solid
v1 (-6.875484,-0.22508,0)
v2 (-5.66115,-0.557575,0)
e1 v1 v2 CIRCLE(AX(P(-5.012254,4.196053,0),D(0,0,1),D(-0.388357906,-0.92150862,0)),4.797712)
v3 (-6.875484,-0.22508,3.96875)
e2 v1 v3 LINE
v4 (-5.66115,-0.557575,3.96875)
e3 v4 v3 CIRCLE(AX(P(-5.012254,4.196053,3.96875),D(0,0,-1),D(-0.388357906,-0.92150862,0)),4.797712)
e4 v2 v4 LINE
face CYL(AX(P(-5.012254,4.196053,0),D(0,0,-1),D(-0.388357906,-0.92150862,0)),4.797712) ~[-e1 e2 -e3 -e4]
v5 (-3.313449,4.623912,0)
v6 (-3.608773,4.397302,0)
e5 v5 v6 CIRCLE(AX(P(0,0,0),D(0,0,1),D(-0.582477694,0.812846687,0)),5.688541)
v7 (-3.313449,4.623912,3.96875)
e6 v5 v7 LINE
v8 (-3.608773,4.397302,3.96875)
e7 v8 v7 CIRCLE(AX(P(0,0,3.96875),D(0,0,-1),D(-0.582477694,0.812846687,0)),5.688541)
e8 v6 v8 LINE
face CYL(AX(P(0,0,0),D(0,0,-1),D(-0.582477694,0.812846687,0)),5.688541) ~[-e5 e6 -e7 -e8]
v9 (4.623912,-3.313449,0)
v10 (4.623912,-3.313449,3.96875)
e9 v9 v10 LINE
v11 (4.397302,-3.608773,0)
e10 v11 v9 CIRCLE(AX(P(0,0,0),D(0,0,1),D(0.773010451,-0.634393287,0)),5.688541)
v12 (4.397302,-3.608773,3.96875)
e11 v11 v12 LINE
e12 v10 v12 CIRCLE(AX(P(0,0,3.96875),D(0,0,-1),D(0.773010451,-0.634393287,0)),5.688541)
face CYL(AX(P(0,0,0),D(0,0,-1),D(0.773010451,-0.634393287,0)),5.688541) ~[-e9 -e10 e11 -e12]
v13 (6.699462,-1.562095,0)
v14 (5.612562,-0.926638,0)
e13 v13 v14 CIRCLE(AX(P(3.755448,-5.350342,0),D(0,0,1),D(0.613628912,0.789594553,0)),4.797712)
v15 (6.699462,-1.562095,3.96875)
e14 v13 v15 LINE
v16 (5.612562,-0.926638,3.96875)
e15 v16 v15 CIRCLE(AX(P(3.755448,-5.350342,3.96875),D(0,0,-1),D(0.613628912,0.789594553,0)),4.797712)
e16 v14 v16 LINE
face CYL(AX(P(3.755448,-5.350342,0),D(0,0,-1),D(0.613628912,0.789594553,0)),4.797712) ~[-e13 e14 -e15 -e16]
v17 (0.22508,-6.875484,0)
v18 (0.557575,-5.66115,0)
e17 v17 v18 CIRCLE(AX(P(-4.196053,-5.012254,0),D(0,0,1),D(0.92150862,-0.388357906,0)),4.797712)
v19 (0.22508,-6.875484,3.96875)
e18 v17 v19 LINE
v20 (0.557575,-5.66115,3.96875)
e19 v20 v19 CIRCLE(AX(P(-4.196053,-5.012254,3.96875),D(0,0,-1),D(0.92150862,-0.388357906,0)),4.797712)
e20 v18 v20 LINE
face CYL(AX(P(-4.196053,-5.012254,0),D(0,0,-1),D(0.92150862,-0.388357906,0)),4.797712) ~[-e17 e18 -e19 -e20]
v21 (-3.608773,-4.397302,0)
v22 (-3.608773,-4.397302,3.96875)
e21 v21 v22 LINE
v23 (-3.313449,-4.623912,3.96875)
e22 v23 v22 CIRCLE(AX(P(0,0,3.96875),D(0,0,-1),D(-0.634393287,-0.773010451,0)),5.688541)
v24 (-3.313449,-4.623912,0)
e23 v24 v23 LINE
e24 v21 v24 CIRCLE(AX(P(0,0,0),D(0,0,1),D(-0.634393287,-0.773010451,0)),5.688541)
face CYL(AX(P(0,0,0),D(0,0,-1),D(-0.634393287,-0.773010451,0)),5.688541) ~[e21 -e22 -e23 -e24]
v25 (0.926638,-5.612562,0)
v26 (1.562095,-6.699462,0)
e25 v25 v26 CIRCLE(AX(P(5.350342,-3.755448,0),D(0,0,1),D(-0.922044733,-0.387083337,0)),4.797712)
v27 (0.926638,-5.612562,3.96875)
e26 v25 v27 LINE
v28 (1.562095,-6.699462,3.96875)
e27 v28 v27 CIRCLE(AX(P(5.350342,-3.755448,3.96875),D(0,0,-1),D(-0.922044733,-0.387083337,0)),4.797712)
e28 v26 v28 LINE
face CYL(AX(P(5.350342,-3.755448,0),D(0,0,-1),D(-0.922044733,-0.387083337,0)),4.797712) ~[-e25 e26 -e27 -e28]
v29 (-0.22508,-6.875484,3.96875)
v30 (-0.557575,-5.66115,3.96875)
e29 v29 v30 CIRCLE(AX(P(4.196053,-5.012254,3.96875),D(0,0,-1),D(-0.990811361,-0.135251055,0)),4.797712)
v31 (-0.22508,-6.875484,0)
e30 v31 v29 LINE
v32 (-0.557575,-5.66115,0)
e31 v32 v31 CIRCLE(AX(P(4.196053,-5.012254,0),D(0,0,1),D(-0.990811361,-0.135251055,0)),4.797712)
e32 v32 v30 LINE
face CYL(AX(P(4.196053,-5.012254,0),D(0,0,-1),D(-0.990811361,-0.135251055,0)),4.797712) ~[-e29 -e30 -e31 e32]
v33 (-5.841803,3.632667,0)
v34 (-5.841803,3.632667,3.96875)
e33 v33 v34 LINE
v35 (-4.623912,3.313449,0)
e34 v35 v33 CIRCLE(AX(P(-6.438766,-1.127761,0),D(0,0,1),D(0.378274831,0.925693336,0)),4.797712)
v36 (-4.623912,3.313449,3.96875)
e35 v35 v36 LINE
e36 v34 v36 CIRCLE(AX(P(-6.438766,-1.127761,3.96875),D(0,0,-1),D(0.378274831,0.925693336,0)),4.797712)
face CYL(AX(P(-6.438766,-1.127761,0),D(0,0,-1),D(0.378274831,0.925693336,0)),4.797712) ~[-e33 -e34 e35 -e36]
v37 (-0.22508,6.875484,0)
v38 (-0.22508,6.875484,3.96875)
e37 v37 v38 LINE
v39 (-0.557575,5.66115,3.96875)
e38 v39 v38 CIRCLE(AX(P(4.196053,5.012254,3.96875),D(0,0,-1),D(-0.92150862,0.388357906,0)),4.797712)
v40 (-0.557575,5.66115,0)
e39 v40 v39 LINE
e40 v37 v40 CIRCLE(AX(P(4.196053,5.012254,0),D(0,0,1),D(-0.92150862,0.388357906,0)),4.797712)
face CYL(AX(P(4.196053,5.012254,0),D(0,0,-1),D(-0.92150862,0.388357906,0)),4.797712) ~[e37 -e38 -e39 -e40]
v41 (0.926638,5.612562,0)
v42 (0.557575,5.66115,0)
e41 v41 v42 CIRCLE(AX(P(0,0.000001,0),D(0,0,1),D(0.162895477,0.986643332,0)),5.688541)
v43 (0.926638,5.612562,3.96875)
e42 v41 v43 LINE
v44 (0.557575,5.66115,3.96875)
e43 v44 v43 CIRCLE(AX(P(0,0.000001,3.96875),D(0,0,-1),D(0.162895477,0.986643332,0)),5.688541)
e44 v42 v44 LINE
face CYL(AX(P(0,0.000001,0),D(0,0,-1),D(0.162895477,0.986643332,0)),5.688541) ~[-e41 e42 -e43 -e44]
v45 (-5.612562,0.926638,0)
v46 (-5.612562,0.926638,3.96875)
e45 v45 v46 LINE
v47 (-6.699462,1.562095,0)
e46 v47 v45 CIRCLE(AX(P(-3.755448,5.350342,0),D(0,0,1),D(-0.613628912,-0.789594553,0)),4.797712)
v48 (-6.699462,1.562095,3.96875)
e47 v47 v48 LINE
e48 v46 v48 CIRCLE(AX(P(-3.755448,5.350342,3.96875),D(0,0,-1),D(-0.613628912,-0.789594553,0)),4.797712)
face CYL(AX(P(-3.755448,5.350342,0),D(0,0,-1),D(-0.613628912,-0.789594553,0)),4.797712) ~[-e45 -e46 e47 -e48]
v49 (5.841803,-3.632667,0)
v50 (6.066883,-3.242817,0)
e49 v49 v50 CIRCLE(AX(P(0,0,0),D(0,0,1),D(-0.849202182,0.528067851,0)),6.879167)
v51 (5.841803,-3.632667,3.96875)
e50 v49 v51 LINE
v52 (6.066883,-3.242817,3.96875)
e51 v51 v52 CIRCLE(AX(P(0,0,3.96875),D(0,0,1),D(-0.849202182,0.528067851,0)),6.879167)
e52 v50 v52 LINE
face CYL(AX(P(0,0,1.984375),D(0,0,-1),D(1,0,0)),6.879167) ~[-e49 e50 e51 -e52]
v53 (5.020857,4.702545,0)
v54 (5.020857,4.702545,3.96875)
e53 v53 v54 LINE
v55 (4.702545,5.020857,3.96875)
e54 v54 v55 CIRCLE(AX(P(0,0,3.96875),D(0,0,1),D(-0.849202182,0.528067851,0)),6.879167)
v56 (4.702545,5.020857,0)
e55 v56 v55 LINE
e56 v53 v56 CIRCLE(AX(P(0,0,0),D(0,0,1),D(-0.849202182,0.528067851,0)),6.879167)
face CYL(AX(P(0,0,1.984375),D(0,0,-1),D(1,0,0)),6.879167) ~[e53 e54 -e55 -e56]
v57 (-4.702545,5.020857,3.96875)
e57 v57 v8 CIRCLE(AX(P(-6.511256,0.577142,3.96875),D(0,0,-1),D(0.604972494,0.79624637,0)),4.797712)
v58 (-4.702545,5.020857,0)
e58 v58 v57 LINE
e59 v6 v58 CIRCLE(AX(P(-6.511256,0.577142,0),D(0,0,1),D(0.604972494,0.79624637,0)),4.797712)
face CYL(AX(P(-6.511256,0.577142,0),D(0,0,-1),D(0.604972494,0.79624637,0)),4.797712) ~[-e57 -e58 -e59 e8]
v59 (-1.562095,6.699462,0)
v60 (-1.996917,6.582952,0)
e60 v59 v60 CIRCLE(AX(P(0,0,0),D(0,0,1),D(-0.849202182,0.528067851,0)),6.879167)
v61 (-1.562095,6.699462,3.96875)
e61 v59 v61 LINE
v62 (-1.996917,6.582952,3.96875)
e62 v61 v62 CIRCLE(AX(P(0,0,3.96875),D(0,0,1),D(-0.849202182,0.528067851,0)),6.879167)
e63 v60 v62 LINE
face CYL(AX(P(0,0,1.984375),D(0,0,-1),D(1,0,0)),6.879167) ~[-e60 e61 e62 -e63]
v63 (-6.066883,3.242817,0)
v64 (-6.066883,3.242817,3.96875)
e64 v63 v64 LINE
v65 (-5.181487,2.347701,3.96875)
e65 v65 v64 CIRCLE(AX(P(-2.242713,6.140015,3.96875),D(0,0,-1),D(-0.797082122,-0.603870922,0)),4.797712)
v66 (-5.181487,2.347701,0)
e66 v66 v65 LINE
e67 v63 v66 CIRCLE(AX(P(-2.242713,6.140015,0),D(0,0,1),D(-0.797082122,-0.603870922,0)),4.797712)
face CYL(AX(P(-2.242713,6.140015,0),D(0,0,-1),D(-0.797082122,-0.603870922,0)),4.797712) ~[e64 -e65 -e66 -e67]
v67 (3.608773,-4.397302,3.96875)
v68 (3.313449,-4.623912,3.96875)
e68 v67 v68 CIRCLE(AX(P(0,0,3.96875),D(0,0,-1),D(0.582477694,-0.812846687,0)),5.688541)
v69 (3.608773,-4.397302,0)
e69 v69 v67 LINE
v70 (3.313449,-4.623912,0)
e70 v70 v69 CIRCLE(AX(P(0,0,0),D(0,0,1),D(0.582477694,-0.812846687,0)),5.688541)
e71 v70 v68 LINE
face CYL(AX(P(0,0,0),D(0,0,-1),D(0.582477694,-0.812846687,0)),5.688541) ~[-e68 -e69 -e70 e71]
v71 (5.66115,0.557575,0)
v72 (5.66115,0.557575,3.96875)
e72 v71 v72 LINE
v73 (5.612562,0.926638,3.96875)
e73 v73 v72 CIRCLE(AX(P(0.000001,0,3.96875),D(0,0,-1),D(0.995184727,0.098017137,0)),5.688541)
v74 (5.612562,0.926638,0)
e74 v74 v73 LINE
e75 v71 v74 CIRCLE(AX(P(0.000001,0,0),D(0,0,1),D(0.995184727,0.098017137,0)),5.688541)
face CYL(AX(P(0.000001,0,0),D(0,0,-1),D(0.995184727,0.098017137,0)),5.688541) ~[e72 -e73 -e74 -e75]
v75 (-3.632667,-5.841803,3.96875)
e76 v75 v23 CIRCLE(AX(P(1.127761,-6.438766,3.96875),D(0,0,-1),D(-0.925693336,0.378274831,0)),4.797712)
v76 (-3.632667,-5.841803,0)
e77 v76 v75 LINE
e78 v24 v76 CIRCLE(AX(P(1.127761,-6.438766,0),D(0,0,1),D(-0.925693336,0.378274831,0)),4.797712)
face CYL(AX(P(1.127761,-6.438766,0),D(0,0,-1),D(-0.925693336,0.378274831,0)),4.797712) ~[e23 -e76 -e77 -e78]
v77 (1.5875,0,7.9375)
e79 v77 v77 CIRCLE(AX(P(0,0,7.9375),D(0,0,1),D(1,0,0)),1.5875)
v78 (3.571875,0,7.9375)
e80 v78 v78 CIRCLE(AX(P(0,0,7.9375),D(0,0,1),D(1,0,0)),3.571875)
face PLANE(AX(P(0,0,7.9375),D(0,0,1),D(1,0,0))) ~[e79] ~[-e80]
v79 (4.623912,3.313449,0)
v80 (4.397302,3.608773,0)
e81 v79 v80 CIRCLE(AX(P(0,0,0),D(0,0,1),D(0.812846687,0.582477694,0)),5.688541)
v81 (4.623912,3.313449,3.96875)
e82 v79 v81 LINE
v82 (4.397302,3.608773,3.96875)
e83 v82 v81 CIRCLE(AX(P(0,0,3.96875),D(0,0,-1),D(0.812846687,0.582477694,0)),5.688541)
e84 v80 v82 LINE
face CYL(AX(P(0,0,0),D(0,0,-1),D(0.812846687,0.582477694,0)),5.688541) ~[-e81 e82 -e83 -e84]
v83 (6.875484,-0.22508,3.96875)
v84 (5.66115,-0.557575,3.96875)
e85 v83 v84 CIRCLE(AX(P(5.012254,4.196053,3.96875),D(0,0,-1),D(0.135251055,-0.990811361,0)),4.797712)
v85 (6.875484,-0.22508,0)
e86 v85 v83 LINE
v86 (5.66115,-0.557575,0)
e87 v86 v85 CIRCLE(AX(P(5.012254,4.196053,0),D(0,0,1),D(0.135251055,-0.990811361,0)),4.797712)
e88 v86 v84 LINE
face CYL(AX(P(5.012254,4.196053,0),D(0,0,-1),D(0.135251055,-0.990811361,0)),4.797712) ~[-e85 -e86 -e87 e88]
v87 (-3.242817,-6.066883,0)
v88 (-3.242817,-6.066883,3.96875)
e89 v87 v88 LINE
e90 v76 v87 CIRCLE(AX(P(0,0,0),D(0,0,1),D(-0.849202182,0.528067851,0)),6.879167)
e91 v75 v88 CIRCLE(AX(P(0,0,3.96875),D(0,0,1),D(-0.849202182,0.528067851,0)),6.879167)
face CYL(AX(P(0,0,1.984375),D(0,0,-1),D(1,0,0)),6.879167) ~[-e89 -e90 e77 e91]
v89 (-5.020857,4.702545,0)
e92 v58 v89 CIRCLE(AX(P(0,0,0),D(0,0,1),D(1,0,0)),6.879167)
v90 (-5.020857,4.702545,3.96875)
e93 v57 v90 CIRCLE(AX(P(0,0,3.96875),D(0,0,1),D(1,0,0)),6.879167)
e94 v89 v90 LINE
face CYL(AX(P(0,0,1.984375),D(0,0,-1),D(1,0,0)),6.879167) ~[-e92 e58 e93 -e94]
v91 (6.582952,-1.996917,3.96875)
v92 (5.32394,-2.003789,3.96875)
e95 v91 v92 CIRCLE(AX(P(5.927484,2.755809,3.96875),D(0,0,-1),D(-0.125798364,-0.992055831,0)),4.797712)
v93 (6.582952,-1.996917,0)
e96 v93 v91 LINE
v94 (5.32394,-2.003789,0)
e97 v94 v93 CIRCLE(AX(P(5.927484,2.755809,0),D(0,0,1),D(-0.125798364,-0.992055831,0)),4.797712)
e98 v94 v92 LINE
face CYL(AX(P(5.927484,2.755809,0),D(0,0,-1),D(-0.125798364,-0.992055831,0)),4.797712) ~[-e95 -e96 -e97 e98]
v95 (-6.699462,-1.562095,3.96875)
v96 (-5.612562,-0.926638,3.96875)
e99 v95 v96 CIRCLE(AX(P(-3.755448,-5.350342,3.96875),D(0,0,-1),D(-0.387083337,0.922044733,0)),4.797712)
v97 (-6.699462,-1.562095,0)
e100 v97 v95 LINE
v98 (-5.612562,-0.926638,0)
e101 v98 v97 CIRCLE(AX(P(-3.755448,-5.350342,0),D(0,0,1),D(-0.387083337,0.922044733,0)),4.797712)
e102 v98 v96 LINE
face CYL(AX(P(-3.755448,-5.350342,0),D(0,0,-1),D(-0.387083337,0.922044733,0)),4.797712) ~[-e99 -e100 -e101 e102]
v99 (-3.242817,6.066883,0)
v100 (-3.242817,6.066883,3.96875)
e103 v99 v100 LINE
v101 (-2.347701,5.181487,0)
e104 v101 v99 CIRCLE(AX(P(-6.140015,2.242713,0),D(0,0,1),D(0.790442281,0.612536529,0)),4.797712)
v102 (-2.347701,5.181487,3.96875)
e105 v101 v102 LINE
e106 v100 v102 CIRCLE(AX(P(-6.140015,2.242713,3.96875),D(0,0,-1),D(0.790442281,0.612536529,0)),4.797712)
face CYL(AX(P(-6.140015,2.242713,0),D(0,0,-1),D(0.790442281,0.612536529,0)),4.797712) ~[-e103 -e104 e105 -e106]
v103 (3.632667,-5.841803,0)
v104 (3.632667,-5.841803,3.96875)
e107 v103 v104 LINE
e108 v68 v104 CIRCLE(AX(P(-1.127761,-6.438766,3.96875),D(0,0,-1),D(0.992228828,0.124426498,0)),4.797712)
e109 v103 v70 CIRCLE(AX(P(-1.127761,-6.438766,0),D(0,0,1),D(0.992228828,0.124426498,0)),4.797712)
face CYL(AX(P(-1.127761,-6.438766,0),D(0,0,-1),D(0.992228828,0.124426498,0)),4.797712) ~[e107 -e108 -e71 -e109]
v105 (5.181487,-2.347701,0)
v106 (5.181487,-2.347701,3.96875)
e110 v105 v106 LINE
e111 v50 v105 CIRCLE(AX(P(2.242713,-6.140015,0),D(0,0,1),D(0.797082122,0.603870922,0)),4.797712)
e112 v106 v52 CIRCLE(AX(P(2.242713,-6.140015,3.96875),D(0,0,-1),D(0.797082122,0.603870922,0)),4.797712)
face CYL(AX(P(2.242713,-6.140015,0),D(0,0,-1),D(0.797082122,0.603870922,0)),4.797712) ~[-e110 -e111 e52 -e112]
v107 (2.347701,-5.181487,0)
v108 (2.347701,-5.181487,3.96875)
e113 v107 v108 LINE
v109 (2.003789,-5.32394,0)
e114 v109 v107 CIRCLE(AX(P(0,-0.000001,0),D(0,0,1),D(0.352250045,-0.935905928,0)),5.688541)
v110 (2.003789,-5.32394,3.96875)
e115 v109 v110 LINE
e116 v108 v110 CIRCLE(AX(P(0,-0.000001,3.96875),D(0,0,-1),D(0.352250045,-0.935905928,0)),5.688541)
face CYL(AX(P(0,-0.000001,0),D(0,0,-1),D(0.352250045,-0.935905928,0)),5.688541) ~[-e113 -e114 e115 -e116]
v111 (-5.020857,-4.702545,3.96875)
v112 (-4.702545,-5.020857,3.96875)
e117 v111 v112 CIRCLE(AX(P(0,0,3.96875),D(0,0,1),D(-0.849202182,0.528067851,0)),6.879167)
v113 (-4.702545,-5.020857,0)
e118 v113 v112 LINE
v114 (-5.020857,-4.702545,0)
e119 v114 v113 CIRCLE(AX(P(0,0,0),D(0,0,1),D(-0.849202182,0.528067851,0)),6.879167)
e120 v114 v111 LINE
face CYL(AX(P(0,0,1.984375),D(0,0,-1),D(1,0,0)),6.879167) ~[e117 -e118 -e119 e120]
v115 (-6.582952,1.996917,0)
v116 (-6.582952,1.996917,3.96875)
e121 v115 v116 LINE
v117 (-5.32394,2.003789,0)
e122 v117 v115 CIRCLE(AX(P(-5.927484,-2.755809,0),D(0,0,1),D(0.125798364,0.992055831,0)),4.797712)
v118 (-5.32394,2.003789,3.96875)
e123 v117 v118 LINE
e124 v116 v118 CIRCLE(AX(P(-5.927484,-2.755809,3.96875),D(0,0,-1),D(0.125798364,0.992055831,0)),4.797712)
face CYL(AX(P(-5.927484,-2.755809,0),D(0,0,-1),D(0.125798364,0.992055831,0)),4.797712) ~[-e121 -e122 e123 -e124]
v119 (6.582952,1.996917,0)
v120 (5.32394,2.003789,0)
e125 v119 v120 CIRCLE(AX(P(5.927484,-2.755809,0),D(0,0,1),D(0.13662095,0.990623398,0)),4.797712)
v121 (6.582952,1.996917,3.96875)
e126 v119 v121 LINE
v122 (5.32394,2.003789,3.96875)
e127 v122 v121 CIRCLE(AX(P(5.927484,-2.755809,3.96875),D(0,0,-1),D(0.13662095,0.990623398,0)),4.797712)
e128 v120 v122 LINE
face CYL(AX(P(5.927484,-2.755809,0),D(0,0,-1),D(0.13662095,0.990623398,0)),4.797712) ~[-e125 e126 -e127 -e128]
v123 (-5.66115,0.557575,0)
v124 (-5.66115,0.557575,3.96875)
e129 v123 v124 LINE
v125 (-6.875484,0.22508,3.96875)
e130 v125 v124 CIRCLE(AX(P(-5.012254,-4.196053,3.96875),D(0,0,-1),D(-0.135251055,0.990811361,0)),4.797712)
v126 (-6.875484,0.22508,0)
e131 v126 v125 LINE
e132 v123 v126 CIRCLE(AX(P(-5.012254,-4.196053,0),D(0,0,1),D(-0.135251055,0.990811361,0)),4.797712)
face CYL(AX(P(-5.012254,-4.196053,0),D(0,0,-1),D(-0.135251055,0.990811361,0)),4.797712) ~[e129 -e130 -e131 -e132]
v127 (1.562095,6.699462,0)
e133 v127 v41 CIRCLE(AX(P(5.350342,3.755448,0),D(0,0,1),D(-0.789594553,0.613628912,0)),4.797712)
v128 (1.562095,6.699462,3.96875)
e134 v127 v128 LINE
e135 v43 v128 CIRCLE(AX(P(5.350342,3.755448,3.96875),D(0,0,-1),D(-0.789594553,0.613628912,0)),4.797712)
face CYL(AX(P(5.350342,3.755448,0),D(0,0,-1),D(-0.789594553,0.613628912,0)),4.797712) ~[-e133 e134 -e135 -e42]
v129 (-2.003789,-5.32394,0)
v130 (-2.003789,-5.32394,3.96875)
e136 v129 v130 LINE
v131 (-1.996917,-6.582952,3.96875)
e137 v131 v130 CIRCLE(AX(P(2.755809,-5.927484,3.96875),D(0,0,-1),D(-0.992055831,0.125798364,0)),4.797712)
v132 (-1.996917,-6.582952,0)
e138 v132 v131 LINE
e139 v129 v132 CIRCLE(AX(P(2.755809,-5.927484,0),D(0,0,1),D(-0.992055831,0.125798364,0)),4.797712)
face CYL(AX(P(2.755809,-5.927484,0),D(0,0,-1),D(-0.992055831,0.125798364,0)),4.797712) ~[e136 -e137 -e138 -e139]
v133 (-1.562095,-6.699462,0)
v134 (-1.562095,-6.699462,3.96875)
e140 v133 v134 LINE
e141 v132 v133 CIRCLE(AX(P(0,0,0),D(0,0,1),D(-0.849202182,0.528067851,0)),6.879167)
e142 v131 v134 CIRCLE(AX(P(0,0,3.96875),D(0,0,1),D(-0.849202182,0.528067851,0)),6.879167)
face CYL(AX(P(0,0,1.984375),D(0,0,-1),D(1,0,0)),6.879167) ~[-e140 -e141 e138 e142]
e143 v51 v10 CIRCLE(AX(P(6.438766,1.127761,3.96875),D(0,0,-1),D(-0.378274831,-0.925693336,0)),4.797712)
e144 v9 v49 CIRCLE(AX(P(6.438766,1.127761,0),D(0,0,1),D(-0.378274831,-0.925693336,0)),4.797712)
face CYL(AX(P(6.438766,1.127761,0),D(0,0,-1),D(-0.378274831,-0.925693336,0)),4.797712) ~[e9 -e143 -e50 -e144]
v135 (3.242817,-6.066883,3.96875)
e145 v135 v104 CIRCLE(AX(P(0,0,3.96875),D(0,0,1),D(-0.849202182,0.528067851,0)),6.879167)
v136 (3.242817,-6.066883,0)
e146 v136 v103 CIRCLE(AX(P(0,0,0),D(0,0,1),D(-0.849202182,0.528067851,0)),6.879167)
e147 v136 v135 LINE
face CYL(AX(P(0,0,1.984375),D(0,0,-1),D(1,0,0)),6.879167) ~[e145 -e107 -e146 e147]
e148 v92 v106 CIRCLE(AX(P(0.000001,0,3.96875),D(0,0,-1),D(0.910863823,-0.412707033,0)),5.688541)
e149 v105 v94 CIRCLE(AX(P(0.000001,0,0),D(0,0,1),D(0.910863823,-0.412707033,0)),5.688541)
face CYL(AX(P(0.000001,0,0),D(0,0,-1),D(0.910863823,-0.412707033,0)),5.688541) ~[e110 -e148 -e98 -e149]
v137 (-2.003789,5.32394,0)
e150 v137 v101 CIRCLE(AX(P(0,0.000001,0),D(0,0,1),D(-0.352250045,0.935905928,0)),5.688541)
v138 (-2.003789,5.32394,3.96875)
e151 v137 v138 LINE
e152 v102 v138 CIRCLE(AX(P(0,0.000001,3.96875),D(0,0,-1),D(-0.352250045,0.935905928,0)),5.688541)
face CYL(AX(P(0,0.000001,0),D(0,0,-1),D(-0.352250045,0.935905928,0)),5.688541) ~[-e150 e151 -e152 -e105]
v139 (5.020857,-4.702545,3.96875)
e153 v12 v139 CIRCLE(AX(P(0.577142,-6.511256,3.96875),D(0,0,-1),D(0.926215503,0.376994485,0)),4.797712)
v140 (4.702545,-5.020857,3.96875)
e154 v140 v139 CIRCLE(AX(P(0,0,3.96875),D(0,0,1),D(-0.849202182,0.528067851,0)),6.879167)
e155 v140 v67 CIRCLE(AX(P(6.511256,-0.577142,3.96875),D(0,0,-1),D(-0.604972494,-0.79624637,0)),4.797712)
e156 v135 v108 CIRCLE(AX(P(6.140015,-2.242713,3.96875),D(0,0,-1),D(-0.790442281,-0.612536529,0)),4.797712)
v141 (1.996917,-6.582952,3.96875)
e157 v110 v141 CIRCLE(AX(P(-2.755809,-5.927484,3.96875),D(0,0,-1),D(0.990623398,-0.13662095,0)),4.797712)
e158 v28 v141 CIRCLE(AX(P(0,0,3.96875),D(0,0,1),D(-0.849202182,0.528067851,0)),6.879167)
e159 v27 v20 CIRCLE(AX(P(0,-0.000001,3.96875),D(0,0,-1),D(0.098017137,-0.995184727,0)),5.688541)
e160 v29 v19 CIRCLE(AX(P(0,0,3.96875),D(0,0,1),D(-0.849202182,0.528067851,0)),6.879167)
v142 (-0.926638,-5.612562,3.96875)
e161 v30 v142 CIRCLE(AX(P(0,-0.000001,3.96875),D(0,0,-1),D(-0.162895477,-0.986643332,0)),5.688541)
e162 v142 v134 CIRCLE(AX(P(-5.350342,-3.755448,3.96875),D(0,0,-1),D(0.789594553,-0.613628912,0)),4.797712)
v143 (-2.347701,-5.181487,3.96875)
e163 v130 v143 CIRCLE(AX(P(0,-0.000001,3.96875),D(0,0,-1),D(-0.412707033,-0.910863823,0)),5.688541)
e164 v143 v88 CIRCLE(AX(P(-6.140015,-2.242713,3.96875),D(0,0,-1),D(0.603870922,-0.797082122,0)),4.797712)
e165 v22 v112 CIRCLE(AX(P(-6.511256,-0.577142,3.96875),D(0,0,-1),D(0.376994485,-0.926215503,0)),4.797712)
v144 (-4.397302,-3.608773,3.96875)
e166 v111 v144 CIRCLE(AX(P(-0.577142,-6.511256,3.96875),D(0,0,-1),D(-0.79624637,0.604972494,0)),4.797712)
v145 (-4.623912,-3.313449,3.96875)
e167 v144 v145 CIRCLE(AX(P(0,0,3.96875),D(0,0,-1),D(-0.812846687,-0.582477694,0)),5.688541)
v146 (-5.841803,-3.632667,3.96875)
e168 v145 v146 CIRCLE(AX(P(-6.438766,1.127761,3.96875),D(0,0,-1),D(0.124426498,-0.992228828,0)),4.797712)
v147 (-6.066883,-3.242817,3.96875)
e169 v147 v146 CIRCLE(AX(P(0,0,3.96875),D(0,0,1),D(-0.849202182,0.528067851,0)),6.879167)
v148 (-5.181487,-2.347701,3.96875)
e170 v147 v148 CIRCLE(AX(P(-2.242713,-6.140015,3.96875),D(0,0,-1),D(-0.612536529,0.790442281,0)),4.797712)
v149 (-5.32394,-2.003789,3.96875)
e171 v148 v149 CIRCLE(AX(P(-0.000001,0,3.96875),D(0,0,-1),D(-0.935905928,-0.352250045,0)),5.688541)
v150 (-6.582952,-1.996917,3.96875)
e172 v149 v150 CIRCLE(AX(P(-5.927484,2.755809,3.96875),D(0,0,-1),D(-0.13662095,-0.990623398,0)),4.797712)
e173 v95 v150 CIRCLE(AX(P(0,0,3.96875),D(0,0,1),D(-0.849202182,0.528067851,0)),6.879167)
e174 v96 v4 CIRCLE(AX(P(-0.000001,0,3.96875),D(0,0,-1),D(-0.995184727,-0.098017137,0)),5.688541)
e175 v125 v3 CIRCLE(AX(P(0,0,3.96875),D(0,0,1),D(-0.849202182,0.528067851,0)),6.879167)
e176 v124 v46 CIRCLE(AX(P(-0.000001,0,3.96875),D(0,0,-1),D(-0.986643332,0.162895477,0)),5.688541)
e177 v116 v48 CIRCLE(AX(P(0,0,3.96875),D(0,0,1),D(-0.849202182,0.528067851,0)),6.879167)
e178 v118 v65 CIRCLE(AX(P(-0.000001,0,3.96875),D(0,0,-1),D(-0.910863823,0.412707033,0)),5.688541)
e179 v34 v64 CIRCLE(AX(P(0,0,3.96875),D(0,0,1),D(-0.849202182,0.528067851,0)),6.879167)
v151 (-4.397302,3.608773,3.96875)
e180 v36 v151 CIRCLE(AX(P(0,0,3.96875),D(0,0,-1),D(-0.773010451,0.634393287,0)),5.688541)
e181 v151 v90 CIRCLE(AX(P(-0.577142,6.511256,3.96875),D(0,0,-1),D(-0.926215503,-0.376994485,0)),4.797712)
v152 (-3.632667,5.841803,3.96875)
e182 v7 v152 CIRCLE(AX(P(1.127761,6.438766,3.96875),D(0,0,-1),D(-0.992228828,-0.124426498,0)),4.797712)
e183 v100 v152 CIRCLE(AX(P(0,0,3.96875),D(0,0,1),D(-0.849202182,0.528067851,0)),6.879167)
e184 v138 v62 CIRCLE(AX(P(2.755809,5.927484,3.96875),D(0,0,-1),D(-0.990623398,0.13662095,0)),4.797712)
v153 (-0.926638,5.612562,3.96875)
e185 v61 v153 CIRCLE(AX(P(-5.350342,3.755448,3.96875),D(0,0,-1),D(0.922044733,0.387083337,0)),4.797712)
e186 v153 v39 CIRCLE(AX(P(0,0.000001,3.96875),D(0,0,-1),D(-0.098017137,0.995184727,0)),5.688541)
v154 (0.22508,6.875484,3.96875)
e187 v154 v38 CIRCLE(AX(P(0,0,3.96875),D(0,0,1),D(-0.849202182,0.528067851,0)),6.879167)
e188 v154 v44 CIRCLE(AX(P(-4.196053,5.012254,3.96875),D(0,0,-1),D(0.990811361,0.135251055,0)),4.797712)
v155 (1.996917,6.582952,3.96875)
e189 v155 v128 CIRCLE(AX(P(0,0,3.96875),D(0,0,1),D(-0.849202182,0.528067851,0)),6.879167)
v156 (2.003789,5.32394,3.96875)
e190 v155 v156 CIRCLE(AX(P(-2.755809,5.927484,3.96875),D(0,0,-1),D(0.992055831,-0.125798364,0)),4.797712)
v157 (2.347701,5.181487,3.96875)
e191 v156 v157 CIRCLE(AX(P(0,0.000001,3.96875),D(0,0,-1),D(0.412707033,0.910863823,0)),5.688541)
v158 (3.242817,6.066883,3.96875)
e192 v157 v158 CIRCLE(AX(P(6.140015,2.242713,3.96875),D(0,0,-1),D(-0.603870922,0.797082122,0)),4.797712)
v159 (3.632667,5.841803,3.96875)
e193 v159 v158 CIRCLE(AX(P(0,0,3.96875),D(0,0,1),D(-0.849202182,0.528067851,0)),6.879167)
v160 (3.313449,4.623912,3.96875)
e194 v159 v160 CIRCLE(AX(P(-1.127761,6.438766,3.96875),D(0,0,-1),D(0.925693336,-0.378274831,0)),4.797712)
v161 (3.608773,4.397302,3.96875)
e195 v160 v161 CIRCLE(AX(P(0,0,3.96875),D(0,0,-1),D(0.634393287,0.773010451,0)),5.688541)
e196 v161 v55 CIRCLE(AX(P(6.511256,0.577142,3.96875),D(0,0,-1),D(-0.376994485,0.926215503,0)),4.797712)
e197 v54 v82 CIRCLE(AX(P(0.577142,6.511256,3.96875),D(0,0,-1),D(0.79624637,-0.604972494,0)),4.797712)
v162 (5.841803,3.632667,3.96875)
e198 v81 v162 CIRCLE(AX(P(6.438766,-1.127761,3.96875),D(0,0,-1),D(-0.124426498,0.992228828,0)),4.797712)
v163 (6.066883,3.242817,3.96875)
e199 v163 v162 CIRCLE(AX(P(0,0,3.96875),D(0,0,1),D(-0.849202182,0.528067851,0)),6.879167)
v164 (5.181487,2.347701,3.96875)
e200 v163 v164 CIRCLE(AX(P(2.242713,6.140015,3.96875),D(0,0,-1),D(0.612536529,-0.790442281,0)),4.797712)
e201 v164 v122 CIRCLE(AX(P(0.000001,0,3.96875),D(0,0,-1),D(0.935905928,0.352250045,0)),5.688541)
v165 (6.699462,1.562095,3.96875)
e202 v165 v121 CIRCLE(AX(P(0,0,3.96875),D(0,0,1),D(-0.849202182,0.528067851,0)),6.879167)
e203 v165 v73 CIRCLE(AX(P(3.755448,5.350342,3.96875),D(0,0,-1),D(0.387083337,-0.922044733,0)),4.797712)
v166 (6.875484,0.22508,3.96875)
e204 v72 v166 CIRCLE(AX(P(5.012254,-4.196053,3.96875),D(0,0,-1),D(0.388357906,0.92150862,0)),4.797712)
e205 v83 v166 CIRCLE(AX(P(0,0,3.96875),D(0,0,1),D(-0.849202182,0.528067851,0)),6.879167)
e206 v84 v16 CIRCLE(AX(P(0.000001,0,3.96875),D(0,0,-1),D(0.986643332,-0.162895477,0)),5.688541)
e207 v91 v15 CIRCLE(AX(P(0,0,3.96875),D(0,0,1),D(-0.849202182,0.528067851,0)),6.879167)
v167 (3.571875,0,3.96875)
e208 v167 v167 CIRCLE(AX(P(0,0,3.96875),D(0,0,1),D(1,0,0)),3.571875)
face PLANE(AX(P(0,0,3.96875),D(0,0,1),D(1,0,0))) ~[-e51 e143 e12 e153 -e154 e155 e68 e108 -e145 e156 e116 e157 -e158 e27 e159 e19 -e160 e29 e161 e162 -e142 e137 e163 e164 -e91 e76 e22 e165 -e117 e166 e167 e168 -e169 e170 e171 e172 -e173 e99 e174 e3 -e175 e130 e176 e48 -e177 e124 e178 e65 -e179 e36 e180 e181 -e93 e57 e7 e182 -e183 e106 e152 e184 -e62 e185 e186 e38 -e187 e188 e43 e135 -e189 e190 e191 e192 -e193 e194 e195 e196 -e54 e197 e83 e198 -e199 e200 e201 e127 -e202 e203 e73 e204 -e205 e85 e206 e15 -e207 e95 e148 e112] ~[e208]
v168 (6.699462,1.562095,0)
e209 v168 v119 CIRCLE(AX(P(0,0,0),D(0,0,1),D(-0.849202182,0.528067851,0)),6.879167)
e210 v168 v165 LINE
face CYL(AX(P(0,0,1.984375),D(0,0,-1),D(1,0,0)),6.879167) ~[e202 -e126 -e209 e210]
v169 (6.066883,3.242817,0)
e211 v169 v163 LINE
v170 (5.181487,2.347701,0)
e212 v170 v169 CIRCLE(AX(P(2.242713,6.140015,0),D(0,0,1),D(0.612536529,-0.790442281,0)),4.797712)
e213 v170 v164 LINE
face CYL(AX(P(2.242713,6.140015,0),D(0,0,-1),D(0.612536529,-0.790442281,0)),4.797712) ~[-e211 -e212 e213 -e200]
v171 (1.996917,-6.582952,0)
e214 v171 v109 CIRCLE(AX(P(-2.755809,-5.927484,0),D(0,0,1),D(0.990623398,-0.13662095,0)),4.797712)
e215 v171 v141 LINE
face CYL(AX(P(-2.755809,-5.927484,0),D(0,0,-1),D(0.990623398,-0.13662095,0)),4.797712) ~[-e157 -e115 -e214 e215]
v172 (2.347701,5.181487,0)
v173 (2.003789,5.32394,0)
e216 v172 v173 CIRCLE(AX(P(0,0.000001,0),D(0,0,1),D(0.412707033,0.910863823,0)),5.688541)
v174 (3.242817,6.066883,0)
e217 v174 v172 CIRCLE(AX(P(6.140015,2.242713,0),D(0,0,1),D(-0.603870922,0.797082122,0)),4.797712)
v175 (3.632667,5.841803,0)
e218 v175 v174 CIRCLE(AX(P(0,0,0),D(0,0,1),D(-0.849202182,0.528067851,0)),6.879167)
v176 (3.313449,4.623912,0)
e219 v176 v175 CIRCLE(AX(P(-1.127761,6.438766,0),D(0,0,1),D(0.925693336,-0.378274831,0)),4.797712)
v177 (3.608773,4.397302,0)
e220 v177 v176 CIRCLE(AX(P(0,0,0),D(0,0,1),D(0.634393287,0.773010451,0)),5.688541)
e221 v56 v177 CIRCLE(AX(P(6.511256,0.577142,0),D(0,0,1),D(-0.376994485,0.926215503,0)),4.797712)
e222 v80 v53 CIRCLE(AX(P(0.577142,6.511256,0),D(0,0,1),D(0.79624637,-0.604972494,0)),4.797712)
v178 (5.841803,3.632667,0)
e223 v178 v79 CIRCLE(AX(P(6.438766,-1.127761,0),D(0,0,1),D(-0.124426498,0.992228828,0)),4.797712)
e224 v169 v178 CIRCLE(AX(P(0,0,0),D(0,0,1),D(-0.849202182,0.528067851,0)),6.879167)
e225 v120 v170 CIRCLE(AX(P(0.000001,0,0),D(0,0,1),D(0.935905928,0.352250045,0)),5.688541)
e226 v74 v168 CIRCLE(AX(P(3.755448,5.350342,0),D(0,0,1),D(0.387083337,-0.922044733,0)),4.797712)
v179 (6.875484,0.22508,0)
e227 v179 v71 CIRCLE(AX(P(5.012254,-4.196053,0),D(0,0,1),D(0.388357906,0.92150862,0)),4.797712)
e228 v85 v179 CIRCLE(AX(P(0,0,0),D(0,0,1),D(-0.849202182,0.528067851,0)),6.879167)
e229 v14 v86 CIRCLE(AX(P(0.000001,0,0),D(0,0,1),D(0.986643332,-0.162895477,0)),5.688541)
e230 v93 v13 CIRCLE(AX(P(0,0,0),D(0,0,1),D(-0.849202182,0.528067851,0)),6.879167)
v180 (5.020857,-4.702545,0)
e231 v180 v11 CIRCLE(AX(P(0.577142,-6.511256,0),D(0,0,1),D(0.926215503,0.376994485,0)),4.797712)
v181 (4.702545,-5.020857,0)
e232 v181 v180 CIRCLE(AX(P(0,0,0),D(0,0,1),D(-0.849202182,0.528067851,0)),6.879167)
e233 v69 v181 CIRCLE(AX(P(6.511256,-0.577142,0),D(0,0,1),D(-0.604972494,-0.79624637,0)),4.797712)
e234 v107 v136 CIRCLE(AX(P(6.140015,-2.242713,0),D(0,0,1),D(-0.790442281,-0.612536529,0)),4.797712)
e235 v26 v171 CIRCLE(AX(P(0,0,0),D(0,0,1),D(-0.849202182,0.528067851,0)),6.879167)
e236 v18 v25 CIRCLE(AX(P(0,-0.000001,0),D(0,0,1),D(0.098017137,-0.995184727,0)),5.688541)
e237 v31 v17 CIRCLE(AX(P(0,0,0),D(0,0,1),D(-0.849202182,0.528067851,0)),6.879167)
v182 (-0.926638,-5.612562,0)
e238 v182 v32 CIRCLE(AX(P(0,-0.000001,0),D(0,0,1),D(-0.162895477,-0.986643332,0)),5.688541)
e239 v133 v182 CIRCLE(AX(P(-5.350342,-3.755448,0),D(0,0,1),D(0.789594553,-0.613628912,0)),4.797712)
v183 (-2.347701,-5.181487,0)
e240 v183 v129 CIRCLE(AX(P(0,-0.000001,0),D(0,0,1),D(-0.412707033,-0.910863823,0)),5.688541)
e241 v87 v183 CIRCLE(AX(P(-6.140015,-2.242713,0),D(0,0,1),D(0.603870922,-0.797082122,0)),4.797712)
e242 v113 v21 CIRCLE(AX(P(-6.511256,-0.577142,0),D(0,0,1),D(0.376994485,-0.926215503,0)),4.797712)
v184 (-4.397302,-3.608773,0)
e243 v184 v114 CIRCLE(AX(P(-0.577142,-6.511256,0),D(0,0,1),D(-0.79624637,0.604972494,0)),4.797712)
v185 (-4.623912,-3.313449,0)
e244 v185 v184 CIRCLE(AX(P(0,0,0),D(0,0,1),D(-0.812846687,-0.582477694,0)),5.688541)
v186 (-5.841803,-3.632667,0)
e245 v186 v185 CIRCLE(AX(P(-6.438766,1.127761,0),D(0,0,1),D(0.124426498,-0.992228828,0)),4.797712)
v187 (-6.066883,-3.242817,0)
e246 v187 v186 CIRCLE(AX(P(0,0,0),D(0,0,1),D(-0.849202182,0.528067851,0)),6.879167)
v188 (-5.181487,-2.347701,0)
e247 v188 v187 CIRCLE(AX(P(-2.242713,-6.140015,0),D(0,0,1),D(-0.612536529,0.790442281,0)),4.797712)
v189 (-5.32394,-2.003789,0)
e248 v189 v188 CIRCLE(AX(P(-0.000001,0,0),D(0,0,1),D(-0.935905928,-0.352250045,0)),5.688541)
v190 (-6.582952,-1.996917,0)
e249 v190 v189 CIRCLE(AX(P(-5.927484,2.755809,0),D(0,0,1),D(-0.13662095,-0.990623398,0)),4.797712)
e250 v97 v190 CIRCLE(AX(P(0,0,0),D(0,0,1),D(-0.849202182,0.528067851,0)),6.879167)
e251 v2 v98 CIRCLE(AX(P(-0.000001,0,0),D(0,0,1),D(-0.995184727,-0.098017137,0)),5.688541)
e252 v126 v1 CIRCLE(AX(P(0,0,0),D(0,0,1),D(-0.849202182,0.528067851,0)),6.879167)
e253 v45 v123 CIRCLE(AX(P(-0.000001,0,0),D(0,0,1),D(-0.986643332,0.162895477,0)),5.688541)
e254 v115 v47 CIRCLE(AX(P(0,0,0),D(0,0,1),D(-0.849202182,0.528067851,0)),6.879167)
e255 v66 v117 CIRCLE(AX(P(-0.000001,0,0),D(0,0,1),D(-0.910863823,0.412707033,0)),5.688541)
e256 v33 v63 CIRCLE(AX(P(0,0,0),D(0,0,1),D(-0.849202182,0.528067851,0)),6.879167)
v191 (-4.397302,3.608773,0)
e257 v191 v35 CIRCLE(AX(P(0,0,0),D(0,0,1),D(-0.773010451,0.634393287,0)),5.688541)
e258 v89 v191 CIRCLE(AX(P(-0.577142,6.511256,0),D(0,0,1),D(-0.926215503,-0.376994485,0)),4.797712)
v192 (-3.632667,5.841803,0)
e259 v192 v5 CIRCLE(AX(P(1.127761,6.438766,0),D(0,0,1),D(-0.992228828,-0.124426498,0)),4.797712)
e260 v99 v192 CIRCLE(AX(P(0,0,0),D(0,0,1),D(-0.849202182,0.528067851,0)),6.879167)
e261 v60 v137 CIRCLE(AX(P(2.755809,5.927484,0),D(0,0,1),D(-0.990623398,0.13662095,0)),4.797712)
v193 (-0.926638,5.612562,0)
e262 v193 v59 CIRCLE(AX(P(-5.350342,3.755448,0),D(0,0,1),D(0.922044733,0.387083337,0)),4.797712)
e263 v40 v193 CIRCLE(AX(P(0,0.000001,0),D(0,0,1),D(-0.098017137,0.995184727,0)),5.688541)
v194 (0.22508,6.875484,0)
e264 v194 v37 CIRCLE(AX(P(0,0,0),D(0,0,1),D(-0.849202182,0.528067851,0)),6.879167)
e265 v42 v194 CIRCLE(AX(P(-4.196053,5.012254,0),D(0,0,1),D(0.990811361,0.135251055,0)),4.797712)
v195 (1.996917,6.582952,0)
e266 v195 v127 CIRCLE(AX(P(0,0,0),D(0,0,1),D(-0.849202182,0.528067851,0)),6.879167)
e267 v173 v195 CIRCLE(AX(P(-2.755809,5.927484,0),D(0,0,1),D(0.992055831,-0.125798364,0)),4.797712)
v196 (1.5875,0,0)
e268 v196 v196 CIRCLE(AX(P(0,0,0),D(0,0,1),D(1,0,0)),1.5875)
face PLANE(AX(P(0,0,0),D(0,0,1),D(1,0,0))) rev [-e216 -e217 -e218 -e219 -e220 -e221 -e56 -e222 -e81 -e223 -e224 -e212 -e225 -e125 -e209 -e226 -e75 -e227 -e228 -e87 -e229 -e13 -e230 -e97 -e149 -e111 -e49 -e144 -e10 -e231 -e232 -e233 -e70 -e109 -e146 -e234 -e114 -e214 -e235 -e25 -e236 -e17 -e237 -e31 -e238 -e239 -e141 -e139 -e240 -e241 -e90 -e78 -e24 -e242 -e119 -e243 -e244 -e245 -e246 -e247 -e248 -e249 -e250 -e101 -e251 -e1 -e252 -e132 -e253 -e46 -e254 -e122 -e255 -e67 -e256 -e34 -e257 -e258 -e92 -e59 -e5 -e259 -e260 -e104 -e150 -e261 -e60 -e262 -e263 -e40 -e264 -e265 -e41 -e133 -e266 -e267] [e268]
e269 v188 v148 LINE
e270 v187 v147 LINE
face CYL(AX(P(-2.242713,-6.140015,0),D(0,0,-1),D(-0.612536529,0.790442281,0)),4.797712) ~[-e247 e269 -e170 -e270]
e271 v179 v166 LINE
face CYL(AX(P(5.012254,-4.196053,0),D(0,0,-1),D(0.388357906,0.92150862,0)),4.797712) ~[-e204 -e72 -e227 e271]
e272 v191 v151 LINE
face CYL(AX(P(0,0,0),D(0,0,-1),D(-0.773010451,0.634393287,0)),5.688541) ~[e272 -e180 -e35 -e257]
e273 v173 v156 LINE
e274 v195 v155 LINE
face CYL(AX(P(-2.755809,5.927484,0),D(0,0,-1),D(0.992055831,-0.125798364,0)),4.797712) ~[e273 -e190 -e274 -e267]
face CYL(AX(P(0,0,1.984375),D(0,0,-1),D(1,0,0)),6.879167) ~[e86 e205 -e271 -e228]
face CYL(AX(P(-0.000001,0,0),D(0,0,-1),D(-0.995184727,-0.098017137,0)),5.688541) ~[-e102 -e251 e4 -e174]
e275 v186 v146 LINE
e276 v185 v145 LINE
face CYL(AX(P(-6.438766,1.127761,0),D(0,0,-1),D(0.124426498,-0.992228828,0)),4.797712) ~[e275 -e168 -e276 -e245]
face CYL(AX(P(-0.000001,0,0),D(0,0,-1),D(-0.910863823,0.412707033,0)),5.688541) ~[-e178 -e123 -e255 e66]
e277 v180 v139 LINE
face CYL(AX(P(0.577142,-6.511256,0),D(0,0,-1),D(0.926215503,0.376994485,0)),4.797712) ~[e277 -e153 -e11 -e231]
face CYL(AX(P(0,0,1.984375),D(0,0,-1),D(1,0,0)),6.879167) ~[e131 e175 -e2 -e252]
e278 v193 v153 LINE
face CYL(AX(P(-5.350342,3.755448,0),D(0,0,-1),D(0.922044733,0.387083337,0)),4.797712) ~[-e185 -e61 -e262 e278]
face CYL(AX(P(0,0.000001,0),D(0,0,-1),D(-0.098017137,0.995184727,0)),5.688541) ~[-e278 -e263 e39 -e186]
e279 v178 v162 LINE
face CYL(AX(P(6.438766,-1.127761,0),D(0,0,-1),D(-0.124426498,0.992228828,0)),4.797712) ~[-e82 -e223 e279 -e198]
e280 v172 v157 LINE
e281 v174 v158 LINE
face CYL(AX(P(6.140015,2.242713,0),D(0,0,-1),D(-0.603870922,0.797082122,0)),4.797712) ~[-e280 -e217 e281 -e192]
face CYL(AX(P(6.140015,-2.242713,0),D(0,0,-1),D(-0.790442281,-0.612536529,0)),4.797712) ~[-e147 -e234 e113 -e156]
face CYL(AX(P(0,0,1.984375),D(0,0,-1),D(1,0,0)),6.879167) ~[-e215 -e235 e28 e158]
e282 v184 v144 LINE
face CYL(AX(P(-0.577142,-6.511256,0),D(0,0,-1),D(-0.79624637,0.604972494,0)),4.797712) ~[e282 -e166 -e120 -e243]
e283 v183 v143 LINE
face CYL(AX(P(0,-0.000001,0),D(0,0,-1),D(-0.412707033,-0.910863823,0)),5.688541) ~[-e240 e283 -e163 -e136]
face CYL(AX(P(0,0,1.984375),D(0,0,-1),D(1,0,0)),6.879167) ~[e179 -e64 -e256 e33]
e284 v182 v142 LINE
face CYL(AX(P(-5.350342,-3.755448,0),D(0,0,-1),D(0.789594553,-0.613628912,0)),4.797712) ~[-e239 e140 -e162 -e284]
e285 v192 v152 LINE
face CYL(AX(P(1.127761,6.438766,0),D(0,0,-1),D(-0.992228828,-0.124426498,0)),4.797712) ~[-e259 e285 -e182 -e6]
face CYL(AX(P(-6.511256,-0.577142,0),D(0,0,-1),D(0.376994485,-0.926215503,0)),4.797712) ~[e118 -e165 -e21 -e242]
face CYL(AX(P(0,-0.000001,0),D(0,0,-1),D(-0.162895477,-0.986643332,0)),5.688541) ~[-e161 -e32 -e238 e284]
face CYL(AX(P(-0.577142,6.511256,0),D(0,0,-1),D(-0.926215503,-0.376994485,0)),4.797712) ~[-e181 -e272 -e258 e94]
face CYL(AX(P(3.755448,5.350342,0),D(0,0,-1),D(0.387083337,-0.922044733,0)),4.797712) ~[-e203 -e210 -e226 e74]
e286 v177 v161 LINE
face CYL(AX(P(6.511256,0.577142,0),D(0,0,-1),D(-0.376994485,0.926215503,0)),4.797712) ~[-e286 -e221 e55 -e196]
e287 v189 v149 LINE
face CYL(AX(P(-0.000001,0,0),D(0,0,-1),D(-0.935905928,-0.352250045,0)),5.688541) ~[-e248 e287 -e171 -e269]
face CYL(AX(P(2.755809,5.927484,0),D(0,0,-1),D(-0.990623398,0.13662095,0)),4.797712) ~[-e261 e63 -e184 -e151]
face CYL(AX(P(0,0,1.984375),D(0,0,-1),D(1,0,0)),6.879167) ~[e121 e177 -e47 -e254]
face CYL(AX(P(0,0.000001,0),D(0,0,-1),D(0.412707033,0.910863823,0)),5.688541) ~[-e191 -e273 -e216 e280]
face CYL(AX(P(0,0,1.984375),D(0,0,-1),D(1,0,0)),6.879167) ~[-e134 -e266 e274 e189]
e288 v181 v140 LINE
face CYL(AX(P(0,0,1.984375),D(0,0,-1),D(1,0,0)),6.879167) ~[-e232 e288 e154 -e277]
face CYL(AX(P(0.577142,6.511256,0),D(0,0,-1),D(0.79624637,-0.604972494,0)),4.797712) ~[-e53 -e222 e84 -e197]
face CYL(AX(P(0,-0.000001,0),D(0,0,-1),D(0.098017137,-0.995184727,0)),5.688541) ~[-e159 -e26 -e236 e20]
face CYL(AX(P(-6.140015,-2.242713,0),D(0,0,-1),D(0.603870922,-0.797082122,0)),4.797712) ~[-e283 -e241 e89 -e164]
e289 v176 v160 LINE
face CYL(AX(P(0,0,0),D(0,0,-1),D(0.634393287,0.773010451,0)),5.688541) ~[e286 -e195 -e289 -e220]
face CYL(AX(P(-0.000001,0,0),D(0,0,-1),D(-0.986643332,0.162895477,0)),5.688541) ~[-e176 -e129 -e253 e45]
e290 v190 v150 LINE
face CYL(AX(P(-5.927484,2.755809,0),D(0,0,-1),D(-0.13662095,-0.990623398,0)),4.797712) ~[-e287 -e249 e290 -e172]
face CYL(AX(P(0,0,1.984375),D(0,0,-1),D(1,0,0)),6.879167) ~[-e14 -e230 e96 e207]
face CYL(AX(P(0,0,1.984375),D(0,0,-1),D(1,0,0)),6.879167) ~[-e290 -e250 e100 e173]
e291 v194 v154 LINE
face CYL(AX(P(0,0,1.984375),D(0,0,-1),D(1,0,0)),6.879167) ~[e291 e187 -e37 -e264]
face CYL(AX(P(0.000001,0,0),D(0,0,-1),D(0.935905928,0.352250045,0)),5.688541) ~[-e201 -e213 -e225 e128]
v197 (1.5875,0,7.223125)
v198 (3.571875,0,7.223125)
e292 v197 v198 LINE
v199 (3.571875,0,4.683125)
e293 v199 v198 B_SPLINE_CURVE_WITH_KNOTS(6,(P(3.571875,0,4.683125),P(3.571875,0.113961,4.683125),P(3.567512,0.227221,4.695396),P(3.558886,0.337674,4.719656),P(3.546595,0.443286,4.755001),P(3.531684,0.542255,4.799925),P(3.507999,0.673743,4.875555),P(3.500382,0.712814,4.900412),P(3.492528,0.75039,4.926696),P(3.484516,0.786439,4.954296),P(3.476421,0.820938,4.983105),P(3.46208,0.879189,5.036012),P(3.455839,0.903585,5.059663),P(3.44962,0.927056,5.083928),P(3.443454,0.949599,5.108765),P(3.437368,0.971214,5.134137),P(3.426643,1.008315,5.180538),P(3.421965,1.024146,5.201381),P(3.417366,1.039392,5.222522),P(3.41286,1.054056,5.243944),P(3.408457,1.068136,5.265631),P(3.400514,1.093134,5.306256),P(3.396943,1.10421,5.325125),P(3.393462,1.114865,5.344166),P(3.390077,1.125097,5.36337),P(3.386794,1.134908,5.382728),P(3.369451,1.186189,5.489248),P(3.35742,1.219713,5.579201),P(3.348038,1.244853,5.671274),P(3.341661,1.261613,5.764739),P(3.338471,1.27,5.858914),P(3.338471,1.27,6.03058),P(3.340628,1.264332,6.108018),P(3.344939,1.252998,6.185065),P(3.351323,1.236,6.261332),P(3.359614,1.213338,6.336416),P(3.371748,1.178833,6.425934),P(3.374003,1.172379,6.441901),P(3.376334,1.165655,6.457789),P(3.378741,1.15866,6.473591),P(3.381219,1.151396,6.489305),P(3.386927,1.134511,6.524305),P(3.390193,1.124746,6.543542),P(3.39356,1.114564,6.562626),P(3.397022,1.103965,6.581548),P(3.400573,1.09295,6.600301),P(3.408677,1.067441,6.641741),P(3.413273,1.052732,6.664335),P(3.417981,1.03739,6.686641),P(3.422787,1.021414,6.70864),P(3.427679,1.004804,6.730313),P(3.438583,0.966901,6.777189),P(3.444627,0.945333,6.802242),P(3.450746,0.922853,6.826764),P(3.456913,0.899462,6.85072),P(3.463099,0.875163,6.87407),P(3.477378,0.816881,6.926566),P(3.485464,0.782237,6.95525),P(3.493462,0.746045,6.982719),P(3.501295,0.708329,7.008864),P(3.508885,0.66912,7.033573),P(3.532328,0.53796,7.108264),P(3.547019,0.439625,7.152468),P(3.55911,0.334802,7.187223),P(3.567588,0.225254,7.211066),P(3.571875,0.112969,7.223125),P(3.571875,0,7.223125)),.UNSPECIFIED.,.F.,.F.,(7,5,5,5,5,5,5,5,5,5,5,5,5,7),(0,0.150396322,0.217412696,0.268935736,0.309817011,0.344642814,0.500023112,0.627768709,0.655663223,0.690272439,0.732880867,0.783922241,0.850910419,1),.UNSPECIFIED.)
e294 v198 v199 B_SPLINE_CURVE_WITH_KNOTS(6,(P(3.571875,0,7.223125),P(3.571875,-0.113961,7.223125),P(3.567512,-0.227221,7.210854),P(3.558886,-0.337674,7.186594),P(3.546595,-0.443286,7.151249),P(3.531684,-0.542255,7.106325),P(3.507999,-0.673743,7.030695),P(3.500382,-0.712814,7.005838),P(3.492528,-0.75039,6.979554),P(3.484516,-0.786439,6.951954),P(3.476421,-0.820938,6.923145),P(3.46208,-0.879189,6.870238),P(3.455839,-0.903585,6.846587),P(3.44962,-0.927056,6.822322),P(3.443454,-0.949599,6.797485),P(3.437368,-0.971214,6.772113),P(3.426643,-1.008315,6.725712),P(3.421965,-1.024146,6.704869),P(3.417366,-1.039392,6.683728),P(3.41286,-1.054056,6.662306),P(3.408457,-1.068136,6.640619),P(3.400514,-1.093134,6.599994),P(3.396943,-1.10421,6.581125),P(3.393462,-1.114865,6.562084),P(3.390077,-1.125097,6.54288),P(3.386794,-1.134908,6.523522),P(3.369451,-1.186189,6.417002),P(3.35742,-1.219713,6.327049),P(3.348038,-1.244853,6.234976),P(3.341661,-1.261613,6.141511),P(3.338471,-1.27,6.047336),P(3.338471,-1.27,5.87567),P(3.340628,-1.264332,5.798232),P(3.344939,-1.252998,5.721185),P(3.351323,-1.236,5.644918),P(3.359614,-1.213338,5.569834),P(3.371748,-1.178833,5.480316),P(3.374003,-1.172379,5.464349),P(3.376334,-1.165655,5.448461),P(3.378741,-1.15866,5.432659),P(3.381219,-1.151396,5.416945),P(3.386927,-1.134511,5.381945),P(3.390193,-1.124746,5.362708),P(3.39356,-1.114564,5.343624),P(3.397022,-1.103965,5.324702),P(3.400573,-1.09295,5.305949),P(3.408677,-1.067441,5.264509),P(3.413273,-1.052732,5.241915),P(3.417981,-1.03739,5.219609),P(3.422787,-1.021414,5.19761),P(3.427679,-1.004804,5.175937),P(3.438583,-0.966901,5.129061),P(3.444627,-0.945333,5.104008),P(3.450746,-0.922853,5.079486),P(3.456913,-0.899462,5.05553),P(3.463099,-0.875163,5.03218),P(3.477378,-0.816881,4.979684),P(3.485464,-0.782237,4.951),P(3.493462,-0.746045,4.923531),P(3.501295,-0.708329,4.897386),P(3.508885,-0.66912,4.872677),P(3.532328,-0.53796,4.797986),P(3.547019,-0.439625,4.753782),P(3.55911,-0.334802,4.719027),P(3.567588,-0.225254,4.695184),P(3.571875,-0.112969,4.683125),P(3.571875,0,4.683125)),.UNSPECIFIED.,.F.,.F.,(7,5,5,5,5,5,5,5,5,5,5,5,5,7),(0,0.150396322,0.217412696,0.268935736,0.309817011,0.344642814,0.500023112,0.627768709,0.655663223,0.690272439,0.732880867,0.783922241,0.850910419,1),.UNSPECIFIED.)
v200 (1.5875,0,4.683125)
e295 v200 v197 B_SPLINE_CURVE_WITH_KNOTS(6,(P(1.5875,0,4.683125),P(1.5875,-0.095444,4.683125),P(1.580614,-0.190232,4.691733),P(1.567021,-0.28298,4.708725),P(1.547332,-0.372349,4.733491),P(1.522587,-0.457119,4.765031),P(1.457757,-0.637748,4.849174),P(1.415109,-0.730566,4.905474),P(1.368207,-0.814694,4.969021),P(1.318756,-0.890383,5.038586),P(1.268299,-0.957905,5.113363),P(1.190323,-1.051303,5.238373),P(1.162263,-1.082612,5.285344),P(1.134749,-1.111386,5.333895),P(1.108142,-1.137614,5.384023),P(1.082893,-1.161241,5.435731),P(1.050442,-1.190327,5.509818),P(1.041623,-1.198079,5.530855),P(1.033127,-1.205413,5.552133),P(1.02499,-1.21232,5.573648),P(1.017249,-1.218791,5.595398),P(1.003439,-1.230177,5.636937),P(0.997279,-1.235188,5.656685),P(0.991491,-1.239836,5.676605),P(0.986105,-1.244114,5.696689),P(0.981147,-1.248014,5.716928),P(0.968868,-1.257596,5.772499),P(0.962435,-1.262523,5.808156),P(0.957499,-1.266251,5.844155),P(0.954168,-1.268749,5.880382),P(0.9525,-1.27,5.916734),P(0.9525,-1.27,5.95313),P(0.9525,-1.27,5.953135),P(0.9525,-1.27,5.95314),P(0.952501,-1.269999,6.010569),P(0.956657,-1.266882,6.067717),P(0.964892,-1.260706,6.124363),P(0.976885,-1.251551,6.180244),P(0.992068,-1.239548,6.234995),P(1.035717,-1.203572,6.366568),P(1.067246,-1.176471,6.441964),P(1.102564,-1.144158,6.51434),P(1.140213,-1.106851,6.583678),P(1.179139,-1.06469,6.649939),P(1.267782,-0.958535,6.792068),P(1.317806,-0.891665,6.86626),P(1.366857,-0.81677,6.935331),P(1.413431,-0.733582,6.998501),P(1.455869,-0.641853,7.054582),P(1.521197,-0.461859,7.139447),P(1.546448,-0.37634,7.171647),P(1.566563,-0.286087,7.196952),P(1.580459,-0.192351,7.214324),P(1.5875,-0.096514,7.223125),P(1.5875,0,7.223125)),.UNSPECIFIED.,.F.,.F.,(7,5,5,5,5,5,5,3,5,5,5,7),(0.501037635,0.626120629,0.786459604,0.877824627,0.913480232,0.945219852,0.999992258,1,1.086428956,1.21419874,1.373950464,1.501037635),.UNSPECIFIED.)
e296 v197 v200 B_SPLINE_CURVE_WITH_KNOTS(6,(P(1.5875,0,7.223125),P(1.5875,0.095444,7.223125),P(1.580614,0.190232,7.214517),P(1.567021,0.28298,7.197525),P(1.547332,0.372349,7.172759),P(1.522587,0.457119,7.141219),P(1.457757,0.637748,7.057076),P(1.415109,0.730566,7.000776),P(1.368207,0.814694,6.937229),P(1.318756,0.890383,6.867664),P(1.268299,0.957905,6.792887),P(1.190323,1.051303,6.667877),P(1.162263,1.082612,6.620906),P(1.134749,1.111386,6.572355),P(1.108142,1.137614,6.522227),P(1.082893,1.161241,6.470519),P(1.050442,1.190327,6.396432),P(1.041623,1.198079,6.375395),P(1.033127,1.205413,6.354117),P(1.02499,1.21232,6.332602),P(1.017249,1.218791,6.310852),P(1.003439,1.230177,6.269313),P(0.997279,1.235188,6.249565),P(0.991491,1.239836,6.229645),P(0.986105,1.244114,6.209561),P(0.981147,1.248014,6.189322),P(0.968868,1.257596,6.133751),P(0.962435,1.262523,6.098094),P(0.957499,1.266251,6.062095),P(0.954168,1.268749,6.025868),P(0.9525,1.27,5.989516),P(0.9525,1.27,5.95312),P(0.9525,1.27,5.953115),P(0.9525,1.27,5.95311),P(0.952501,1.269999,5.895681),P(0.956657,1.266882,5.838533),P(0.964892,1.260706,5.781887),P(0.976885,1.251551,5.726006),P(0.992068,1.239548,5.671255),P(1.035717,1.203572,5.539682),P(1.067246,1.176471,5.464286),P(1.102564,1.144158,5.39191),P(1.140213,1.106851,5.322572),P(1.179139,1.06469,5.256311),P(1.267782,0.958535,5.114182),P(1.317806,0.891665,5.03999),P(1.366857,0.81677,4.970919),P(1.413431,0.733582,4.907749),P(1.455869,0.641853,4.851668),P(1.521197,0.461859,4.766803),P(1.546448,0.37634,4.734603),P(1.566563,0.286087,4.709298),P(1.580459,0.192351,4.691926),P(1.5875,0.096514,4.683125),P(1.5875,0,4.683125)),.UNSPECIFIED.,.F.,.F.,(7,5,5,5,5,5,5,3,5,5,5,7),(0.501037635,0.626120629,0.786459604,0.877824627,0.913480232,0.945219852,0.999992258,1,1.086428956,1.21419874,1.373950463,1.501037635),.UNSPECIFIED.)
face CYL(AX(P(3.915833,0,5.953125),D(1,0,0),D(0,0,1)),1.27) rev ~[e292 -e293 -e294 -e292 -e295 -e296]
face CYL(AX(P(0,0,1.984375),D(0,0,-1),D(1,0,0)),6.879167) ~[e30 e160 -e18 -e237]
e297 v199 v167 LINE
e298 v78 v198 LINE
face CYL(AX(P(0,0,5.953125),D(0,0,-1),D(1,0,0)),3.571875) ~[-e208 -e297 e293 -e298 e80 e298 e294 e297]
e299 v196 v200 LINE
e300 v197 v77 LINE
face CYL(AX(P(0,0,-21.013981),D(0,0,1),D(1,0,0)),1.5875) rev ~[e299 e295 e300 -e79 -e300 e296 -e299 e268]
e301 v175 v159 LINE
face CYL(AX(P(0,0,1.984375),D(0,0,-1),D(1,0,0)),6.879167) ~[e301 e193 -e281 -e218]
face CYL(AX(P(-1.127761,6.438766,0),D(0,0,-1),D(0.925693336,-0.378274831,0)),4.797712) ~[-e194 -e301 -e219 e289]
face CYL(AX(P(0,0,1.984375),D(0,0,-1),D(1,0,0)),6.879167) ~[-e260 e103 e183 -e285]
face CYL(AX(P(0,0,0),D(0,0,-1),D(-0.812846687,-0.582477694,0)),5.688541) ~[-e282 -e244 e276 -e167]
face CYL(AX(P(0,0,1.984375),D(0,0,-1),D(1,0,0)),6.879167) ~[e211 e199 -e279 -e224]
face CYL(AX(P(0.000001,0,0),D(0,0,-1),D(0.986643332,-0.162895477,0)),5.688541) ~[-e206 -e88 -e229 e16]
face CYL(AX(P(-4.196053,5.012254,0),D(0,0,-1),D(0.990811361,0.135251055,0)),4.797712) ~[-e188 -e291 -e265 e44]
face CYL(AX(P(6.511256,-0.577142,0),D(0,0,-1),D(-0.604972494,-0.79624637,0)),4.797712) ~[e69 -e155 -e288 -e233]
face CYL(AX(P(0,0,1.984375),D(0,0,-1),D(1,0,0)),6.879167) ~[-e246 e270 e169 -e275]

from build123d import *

# Parameters (mm, degrees)
SKETCH1_W          = 6.879166709
SKETCH1_H          = 3.96875
CUT_EXTRUDE1_DEPTH = 11.506990329
CIRPATTERN1_COUNT  = 24
SKETCH26_W         = 3.571875
SKETCH26_H         = 3.96875
HOLE1_D            = 3.175
SKETCH29_W         = 1.27
SKETCH29_H         = 5.926666709


with BuildPart() as part:
    # Sketch1 → Revolve1 (revolve)
    with BuildSketch(Plane(origin=(0, 0, 0), x_dir=(1, 0, 0), z_dir=(0, 1, 0))):
        with Locations((3.439583355, -1.984375)):
            Rectangle(SKETCH1_W, SKETCH1_H)
    revolve(axis=Axis((0, 0, 0), (0, 0, 1)))

    # Sketch2 → Cut-Extrude1 (cut, through all)
    with BuildSketch(Plane(origin=(0, 0, 0), x_dir=(-1, 0, 0), z_dir=(0, 0, -1))):
        with BuildLine():
            ThreePointArc((4.702545407, 5.020856631), (4.187771356, 5.457609887), (3.632666778, 5.841803376))
            ThreePointArc((3.632666778, 5.841803376), (3.513181537, 5.22234108), (3.313448673, 4.623912268))
            ThreePointArc((3.313448673, 4.623912268), (3.46296478, 4.513023566), (3.608772657, 4.397302205))
            ThreePointArc((3.608772657, 4.397302205), (4.135115832, 4.74511411), (4.702545407, 5.020856631))
        make_face()
    cut_extrude1 = extrude(amount=-CUT_EXTRUDE1_DEPTH, mode=Mode.SUBTRACT)

    # CirPattern1: Cut-Extrude1 ×24 about axis
    cirpattern1_axis = Axis((0, 0, 0), (0, 0, 1))
    for i in range(1, CIRPATTERN1_COUNT):
        add(cut_extrude1.rotate(cirpattern1_axis, i * 360 / CIRPATTERN1_COUNT), mode=Mode.SUBTRACT)

    # Sketch26 → Revolve2 (revolve)
    with BuildSketch(Plane(origin=(0, 0, 0), x_dir=(1, 0, 0), z_dir=(0, 1, 0))):
        with Locations((1.7859375, -5.953125)):
            Rectangle(SKETCH26_W, SKETCH26_H)
    revolve(axis=Axis((0, 0, 3.96875), (0, 0, 1)))

    # Hole1 (through all)
    with Locations(Plane(origin=(0, 0, 0), x_dir=(-1, 0, 0), z_dir=(0, 0, -1))):
        with Locations((0, 0)):
            Hole(HOLE1_D / 2)

    # Sketch29 → M2 Clearance Hole1 (revolve, cut)
    with BuildSketch(Plane(origin=(0.9525, 0, 5.953125), x_dir=(0, 0, 1), z_dir=(0, 1, 0))):
        with Locations((0.635, 2.963333355)):
            Rectangle(SKETCH29_W, SKETCH29_H)
    revolve(axis=Axis((-5.3975, 0, 5.953125), (1, 0, 0)), mode=Mode.SUBTRACT)


solid = part.part
